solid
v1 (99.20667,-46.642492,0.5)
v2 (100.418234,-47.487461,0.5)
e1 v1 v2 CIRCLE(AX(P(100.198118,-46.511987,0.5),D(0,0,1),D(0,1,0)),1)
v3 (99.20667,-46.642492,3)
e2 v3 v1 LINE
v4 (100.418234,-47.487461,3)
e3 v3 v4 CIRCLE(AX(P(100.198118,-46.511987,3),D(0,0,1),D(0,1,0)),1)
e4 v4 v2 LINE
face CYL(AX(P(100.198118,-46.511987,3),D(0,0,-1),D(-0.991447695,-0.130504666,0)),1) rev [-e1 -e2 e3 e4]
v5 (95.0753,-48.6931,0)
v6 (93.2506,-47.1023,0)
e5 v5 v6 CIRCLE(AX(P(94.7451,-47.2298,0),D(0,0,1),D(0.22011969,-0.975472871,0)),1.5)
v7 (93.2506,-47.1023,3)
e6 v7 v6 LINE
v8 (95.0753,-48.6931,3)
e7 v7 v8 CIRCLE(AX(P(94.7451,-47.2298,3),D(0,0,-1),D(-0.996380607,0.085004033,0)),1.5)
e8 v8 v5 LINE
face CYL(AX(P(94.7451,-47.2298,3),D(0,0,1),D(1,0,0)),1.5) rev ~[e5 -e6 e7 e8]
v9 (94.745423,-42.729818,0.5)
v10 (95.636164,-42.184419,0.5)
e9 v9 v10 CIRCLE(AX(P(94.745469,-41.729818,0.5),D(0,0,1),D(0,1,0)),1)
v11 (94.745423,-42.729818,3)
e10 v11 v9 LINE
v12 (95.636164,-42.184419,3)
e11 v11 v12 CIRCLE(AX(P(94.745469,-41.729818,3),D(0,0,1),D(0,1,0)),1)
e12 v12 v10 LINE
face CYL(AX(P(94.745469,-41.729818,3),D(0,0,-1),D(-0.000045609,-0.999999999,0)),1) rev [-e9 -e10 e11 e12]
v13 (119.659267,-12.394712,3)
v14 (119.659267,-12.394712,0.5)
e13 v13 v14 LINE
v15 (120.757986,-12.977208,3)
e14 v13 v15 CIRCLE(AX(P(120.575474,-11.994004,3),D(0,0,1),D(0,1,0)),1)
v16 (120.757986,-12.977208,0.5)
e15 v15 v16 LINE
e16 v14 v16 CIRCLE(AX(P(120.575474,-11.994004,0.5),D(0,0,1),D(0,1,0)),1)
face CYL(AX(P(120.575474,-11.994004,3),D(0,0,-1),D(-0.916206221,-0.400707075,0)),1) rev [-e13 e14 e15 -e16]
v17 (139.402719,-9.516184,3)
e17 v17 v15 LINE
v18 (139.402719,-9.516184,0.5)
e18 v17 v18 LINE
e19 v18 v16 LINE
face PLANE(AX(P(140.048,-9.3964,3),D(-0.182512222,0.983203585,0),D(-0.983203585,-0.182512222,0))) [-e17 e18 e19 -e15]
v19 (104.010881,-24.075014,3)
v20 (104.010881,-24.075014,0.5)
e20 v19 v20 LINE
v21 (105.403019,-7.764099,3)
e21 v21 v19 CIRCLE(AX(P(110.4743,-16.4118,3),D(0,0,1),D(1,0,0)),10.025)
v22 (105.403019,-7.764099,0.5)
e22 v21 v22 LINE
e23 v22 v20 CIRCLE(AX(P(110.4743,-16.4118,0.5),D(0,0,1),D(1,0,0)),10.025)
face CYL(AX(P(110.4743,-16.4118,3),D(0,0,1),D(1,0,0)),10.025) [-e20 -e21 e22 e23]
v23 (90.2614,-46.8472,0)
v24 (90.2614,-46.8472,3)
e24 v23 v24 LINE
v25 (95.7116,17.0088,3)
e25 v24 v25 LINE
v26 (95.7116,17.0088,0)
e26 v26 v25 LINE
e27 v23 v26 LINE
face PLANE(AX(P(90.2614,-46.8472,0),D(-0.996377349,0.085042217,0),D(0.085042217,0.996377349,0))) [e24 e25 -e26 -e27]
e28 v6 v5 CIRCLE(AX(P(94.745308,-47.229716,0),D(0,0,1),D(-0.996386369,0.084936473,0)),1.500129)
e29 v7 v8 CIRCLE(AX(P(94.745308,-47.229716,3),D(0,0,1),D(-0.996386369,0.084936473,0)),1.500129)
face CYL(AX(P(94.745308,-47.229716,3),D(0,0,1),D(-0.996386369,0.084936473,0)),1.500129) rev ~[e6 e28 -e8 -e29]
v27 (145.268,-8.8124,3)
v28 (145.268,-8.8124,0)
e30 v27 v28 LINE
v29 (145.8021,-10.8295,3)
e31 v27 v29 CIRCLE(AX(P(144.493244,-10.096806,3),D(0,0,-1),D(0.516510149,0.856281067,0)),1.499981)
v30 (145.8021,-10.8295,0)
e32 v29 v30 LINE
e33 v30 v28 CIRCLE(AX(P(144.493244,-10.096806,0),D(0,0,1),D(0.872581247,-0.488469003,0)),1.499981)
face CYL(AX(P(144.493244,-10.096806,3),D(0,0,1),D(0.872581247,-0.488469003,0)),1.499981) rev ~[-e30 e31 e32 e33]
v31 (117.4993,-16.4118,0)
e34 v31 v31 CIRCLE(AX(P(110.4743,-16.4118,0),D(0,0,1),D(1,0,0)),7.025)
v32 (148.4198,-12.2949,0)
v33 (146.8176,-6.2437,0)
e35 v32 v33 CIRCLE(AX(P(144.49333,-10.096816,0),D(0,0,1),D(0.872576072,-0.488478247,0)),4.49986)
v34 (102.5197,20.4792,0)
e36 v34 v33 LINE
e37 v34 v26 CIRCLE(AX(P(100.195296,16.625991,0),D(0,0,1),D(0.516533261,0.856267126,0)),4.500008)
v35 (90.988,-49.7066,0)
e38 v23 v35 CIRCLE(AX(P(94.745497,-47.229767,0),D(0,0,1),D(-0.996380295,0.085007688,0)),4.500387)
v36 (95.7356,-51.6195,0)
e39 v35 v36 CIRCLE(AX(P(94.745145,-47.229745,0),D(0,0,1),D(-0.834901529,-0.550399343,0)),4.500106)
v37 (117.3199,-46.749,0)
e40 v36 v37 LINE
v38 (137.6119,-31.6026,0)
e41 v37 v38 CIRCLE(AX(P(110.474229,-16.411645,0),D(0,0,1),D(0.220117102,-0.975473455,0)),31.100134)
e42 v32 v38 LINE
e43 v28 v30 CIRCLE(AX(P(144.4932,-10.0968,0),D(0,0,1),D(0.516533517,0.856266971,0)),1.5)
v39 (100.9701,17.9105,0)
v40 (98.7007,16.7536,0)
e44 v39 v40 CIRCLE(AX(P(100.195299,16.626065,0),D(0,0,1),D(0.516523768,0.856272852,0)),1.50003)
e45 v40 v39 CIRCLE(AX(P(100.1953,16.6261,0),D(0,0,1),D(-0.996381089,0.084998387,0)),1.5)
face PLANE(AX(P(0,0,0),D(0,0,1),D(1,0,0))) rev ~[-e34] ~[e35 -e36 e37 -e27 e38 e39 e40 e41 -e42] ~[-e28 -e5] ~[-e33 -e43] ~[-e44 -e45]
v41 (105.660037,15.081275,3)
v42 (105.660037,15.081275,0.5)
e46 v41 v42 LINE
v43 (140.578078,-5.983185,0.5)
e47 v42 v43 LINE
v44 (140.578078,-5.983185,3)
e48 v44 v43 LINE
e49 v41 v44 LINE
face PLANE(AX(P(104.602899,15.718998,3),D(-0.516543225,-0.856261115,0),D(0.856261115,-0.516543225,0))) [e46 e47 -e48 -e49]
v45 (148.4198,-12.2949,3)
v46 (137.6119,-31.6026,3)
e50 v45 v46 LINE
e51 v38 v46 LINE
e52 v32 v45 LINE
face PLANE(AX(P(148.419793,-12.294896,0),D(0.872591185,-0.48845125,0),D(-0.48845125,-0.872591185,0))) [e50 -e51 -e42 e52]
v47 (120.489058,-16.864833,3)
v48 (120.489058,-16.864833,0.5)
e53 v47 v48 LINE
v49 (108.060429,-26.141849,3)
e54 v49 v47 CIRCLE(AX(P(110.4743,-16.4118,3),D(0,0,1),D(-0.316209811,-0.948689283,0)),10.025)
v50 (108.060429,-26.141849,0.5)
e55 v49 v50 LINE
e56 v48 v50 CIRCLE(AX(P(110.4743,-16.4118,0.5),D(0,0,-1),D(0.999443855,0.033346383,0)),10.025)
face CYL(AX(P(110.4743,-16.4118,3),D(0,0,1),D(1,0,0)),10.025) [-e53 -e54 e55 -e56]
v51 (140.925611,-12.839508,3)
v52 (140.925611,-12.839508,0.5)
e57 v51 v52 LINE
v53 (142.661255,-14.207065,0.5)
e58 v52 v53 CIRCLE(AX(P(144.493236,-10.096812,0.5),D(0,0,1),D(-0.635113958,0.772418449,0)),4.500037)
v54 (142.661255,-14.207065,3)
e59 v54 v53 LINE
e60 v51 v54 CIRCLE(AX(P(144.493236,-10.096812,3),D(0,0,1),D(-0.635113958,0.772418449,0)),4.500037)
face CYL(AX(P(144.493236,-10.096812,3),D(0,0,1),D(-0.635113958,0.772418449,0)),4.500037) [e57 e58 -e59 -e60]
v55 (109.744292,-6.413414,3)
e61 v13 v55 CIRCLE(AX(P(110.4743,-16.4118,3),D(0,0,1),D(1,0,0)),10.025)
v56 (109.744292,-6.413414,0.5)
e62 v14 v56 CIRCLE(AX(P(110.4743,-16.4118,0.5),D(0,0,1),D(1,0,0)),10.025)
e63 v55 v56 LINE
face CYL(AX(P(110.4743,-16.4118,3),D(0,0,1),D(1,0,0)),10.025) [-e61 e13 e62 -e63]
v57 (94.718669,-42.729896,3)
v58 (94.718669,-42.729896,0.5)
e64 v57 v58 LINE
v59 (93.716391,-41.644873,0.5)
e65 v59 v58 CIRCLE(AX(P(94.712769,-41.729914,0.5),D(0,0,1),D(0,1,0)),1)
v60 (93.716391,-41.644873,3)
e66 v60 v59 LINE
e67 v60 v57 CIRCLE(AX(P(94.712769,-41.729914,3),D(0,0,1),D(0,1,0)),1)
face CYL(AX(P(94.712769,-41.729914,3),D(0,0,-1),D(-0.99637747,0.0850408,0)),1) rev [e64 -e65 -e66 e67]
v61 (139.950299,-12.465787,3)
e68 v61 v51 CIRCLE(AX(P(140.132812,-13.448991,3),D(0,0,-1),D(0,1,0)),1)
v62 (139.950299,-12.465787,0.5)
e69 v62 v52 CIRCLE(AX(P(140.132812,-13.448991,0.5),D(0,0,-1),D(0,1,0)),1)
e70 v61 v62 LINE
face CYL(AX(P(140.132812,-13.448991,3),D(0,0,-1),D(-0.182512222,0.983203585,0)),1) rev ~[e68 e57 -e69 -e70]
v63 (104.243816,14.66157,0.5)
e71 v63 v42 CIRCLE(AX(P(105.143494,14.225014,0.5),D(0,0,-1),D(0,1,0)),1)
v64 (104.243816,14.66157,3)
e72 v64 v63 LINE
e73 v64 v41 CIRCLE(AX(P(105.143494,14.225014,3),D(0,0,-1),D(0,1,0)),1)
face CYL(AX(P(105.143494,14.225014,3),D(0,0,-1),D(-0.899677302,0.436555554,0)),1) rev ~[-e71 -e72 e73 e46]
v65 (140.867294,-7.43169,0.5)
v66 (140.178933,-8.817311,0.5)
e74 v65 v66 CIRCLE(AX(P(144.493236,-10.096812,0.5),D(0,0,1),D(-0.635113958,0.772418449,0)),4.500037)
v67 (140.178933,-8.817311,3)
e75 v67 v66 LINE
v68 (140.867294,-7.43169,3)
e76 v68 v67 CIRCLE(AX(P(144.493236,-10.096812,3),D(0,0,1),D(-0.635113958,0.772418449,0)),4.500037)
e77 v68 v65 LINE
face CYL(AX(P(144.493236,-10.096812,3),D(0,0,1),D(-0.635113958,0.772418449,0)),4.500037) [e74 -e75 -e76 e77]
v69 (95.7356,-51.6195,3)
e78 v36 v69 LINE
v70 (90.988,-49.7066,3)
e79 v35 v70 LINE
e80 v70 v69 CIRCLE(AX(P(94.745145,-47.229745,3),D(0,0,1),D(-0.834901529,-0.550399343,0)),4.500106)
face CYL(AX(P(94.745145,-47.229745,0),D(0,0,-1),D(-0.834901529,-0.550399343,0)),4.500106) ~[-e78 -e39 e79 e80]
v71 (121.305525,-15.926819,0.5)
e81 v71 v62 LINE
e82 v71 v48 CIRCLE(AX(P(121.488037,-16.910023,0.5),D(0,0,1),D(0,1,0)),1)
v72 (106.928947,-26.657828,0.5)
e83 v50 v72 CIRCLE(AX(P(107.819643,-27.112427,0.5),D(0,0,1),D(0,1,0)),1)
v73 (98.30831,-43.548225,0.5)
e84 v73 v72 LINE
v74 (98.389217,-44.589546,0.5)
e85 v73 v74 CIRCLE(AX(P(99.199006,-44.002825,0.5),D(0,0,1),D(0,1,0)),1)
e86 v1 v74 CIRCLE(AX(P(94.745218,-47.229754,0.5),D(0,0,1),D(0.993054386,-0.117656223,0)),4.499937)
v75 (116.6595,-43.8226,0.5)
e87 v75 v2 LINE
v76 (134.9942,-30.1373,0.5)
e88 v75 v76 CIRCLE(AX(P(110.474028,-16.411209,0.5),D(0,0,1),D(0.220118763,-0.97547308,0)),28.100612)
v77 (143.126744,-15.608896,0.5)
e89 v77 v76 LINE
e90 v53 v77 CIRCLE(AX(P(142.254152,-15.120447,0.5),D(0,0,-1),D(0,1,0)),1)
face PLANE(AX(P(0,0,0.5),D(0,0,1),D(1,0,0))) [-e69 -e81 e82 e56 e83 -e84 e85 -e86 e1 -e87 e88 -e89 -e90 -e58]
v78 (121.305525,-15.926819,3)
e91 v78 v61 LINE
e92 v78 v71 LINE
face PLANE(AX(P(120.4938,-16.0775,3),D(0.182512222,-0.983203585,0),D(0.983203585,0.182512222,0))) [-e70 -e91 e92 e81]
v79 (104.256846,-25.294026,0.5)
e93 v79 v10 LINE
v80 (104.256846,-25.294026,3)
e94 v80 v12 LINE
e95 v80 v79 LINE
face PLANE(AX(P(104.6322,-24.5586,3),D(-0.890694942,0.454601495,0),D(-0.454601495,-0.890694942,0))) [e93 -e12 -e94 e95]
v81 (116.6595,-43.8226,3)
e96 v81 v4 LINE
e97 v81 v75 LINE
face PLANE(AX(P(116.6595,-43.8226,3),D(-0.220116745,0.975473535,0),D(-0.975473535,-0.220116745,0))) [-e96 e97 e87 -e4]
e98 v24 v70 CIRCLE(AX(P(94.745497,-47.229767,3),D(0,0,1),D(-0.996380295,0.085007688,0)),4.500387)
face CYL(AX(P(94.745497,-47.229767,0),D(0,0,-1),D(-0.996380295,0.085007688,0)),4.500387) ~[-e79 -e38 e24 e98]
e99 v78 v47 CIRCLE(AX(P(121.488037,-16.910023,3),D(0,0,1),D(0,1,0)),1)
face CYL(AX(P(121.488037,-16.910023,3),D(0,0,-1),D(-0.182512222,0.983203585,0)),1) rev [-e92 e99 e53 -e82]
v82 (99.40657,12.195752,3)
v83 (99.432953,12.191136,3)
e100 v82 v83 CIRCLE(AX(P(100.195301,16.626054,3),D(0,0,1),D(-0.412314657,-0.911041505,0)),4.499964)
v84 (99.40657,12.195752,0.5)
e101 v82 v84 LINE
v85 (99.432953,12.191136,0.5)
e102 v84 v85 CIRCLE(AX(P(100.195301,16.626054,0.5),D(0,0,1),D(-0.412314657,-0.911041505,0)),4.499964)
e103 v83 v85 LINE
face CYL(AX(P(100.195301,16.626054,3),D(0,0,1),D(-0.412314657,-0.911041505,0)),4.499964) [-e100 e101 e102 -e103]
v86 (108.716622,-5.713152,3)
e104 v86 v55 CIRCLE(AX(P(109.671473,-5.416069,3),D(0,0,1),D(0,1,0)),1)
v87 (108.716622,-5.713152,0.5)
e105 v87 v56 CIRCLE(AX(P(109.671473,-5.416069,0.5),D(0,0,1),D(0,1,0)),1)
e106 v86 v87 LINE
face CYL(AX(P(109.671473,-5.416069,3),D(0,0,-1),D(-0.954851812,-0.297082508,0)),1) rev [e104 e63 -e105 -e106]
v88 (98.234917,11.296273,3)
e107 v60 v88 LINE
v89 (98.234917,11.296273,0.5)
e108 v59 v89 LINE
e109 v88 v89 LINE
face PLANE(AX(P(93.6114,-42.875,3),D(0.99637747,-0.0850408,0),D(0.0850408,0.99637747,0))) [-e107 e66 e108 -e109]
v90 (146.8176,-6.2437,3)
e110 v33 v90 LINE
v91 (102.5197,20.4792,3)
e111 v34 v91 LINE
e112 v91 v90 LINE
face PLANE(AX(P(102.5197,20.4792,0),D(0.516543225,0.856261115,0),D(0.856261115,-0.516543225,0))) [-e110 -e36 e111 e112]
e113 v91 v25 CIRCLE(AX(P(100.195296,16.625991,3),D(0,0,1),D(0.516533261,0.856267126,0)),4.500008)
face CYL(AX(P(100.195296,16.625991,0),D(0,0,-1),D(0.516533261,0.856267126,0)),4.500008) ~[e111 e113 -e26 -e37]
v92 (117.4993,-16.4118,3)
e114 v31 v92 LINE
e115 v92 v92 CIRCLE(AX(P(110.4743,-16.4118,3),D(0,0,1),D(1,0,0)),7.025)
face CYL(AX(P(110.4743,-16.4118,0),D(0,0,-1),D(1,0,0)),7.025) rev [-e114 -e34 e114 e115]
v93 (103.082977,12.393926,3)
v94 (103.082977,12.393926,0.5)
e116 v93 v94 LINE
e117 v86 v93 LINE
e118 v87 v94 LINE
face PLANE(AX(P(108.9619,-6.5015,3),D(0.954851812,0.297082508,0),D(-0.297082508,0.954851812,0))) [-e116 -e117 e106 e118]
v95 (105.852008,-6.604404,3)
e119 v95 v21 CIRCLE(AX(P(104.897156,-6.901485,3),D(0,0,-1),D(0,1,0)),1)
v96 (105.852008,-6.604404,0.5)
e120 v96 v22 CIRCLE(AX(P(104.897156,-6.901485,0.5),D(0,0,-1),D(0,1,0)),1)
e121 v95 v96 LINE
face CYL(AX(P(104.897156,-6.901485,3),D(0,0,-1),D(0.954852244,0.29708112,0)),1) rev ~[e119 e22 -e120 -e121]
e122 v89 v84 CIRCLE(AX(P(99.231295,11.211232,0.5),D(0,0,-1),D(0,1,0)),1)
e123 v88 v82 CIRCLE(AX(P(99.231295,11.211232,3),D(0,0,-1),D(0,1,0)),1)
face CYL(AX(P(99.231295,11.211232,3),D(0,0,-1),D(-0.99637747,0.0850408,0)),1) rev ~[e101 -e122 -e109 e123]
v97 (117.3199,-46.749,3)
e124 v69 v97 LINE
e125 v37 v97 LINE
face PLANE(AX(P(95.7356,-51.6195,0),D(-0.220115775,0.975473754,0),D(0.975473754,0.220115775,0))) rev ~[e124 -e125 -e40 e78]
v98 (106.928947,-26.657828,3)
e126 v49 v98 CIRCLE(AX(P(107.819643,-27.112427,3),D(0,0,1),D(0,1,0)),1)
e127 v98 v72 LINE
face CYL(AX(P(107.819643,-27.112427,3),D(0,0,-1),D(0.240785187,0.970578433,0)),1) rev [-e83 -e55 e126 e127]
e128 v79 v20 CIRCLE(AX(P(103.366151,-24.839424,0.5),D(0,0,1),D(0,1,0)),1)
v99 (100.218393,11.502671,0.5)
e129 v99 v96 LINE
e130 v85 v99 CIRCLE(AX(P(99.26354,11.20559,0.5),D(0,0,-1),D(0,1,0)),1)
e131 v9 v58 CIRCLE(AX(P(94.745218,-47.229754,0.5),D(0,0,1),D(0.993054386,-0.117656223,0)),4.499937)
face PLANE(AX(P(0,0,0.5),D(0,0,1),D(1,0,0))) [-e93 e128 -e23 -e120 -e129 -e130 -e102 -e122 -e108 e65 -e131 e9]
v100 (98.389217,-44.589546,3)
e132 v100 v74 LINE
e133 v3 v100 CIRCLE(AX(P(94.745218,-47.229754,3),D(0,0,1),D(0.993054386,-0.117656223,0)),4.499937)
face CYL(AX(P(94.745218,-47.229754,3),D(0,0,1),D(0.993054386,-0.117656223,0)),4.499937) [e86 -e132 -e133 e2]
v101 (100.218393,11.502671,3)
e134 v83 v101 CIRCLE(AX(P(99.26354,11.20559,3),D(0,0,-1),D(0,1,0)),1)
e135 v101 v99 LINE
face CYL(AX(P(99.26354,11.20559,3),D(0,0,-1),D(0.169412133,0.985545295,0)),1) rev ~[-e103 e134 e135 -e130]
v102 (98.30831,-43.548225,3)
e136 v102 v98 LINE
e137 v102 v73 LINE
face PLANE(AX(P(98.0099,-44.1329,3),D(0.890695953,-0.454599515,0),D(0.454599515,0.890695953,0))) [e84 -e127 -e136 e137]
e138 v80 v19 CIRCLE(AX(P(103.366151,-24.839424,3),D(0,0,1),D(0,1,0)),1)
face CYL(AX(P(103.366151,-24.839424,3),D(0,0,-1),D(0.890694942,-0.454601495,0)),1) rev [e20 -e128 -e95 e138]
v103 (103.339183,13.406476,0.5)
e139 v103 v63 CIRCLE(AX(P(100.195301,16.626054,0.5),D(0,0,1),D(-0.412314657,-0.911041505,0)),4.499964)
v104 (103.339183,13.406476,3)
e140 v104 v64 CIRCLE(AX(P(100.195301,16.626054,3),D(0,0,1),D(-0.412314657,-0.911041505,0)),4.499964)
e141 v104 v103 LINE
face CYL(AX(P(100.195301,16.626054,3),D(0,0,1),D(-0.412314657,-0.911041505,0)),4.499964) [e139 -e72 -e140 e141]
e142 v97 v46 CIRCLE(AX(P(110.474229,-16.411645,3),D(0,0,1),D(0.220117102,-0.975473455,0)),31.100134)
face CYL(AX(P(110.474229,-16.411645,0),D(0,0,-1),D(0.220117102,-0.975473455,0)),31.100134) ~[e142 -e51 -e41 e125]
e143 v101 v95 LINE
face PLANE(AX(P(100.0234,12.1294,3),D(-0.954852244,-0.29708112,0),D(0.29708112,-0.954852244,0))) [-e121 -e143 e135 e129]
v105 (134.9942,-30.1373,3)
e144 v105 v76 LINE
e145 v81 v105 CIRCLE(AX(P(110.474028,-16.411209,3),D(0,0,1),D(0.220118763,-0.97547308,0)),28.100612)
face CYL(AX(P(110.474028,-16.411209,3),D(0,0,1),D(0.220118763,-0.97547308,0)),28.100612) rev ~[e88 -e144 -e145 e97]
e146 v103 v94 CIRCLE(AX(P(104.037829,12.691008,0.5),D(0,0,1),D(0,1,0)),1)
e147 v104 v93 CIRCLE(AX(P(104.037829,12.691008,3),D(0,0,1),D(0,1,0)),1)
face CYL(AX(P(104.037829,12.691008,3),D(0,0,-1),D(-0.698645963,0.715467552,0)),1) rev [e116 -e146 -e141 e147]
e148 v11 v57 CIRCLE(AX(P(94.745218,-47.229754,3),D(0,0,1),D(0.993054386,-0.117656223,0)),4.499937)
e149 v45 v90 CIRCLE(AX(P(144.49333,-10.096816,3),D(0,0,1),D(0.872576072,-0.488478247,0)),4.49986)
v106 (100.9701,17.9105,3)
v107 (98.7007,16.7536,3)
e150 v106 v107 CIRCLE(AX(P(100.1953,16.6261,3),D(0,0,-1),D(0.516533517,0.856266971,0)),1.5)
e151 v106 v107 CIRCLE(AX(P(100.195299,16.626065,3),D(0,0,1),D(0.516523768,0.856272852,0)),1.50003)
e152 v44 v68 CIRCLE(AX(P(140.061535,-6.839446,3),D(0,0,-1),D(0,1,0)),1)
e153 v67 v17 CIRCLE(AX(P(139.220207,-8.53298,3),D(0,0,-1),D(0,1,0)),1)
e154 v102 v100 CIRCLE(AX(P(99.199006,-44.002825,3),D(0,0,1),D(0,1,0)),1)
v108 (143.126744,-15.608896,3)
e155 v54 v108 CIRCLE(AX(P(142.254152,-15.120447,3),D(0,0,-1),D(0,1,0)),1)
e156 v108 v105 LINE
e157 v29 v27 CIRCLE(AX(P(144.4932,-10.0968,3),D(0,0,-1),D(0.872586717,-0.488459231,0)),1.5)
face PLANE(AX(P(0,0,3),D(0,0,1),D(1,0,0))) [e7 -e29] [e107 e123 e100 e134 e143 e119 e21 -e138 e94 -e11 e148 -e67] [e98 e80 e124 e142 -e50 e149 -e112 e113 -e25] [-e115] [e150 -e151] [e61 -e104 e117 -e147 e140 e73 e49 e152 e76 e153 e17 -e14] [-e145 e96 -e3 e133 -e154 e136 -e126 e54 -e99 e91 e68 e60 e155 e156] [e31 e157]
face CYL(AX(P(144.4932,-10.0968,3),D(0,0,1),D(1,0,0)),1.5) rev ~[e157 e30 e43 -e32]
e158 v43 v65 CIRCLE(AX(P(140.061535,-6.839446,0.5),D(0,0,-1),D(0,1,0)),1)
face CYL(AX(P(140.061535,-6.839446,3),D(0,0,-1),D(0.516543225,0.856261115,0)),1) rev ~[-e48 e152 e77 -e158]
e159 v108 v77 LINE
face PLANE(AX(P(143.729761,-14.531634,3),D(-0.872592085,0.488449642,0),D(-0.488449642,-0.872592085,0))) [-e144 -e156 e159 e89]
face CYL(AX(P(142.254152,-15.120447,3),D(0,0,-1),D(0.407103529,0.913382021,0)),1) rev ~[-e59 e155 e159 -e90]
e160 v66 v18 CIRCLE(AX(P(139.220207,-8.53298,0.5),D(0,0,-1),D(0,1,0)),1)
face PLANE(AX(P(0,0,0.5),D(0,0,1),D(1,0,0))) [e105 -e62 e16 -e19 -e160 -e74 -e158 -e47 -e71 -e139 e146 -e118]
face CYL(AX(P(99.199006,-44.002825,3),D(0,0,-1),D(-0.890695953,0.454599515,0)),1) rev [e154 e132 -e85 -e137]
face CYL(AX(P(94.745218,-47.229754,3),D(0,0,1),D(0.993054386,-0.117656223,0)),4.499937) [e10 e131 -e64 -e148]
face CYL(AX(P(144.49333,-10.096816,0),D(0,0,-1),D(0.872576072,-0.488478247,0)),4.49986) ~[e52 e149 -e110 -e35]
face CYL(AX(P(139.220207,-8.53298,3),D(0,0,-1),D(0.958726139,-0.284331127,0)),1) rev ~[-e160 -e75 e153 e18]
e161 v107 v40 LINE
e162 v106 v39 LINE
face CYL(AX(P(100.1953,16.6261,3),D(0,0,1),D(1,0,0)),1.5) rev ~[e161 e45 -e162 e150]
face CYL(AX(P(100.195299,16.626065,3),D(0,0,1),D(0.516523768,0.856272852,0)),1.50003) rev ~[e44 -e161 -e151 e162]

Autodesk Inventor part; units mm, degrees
ref_plane "YZ Plane" through (0, 0, 0) normal (1, 0, 0) x (0, 1, 0)
ref_plane "XZ Plane" through (0, 0, 0) normal (0, 1, 0) x (-1, 0, 0)
ref_plane "XY Plane" through (0, 0, 0) normal (0, 0, 1) x (1, 0, 0)
sketch "スケッチ1" plane through (0, 0, 0) normal (0, 0, 1) x (1, 0, 0)
  circle A0 centre (110.4743, -16.4118) radius 30.1 construction
  circle A1 centre (150.4743, 0.5882) radius 1.5
  circle A2 centre (127.6431, 30.2622) radius 1.5
  circle A3 centre (80.4743, 23.124) radius 1.5
  circle A4 centre (70.4743, -10.4118) radius 1.5
  circle A5 centre (110.4743, -16.4118) radius 7.025
  arc A6 (79.801, 27.5733) -> (76.162, 24.4099) centre (80.4743, 23.124) ccw
  arc A7 (131.2097, 33.0062) -> (126.9698, 34.7115) centre (127.6431, 30.2622) ccw
  arc A8 (154.401, -1.6098) -> (154.0408, 3.3323) centre (150.4743, 0.5882) ccw
  arc A9 (66.162, -9.1259) -> (66.7172, -12.8885) centre (70.4743, -10.4118) ccw
  arc A10 (117.3199, -46.749) -> (137.6119, -31.6026) centre (110.4743, -16.4118) ccw
  line L0 (154.401, -1.6098) -> (137.6119, -31.6026)
  line L1 (66.162, -9.1259) -> (76.162, 24.4099)
  line L2 (79.801, 27.5733) -> (126.9698, 34.7115)
  line L3 (131.2097, 33.0062) -> (154.0408, 3.3323)
  line L4 (96.5433, 16.3458) -> (118.2214, -10.0492) construction
  line L5 (117.0311, -23.9953) -> (91.1935, -46.3348) construction
  circle A11 centre (100.1953, 16.6261) radius 3 construction
  circle A12 centre (144.4932, -10.0968) radius 3 construction
  circle A13 centre (100.1953, 16.6261) radius 4.5 construction
  circle A14 centre (144.4932, -10.0968) radius 4.5 construction
  arc A15 (90.988, -49.7066) -> (95.7356, -51.6195) centre (94.7451, -47.2298) ccw
  circle A16 centre (94.7451, -47.2298) radius 3 construction
  line L6 (95.7356, -51.6195) -> (117.3199, -46.749)
  line L7 (66.7172, -12.8885) -> (90.988, -49.7066)
  circle A17 centre (100.1953, 16.6261) radius 1.25
  circle A18 centre (144.4932, -10.0968) radius 1.25
  circle A19 centre (94.7451, -47.2298) radius 1.25
  point P0 (0, 0)
  point P1 (0, 0)
  point P2 (0, 0)
  dimension "d0" = 14.05
  dimension "d1" = 9
  dimension "d2" = 9
  dimension "d3" = 9
  dimension "d4" = 9
  dimension "d5" = 1
  dimension "d6" = 6
  dimension "d7" = 6
  dimension "d8" = 9
  dimension "d9" = 9
  dimension "d10" = 9
  dimension "d11" = 6
  dimension "d12" = 2.5
  dimension "d13" = 2.5
  dimension "d14" = 2.5
sketch "スケッチ2" plane through (0, 0, 0) normal (0, 0, 1) x (1, 0, 0)
  circle A0 centre (100.1953, 16.6261) radius 1.25 projected
  circle A1 centre (144.4932, -10.0968) radius 1.25 projected
  circle A2 centre (94.7451, -47.2298) radius 1.25 projected
  line L0 (95.7356, -51.6195) -> (117.3199, -46.749) projected
  arc A3 (117.3199, -46.749) -> (137.6119, -31.6026) centre (110.4743, -16.4118) ccw projected
  line L1 (154.401, -1.6098) -> (137.6119, -31.6026) projected
  arc A4 (90.988, -49.7066) -> (95.7356, -51.6195) centre (94.7451, -47.2298) ccw projected
  arc A5 (102.5197, 20.4792) -> (95.7116, 17.0088) centre (100.1953, 16.6261) ccw
  arc A6 (148.4198, -12.2949) -> (146.8176, -6.2437) centre (144.4932, -10.0968) ccw
  line L2 (148.4198, -12.2949) -> (137.6119, -31.6026)
  arc A7 (90.2614, -46.8472) -> (90.988, -49.7066) centre (94.7451, -47.2298) ccw
  line L3 (90.2614, -46.8472) -> (95.7116, 17.0088)
  line L4 (102.5197, 20.4792) -> (146.8176, -6.2437)
  circle A8 centre (110.4743, -16.4118) radius 7.025 projected
  point P0 (0, 0)
  dimension "d15" = 9
  dimension "d16" = 9
extrude "押し出し1" add sketch "スケッチ2" along normal blind 3
sketch "スケッチ3" plane through (0, 0, 3) normal (0, 0, 1) x (1, 0, 0)
  circle A0 centre (110.4743, -16.4118) radius 7.025 projected
  circle A1 centre (94.7451, -47.2298) radius 1.25 projected
  circle A2 centre (144.4932, -10.0968) radius 1.25 projected
  circle A3 centre (100.1953, 16.6261) radius 1.25 projected
  line L0 (95.7356, -51.6195) -> (117.3199, -46.749) projected
  arc A4 (117.3199, -46.749) -> (137.6119, -31.6026) centre (110.4743, -16.4118) ccw projected
  line L1 (137.6119, -31.6026) -> (148.4198, -12.2949) projected
  arc A5 (148.4198, -12.2949) -> (146.8176, -6.2437) centre (144.4932, -10.0968) ccw projected
  line L2 (146.8176, -6.2437) -> (102.5197, 20.4792) projected
  arc A6 (102.5197, 20.4792) -> (95.7116, 17.0088) centre (100.1953, 16.6261) ccw projected
  line L3 (95.7116, 17.0088) -> (90.2614, -46.8472) projected
  arc A7 (90.2614, -46.8472) -> (95.7356, -51.6195) centre (94.7451, -47.2298) ccw projected
  line L4 (100.9701, 17.9105) -> (145.268, -8.8124)
  arc A8 (145.8021, -10.8295) -> (145.268, -8.8124) centre (144.4932, -10.0968) ccw
  line L5 (145.8021, -10.8295) -> (134.9942, -30.1373)
  arc A9 (116.6595, -43.8226) -> (134.9942, -30.1373) centre (110.4743, -16.4118) ccw
  line L6 (116.6595, -43.8226) -> (95.0753, -48.6931)
  arc A10 (93.2506, -47.1023) -> (95.0753, -48.6931) centre (94.7451, -47.2298) ccw
  line L7 (93.2506, -47.1023) -> (98.7007, 16.7536)
  arc A11 (100.9701, 17.9105) -> (98.7007, 16.7536) centre (100.1953, 16.6261) ccw
  circle A12 centre (110.4743, -16.4118) radius 10.025
  arc A13 (98.3399, 12.5264) -> (104.6029, 15.719) centre (100.1953, 16.6261) ccw
  circle A14 centre (144.4932, -10.0968) radius 1.25 projected
  arc A15 (141.6352, -6.6209) -> (143.7297, -14.5316) centre (144.4932, -10.0968) ccw
  arc A16 (99.2139, -47.7592) -> (93.6114, -42.875) centre (94.7451, -47.2298) ccw
  circle A17 centre (94.7451, -47.2298) radius 1.5
  circle A18 centre (144.4932, -10.0968) radius 1.5
  circle A19 centre (100.1953, 16.6261) radius 1.5
  line L8 (110.4743, -16.4118) -> (144.4932, -10.0968) construction
  arc A20 (110.2006, -14.937) -> (110.7481, -17.8866) centre (110.4743, -16.4118) ccw
  arc A21 (144.7669, -11.5716) -> (144.2194, -8.622) centre (144.4932, -10.0968) ccw
  line L9 (100.1953, 16.6261) -> (110.4743, -16.4118) construction
  arc A22 (101.6276, 17.0717) -> (98.763, 16.1804) centre (100.1953, 16.6261) ccw
  arc A23 (109.0421, -16.8574) -> (111.9066, -15.9662) centre (110.4743, -16.4118) ccw
  line L10 (110.4743, -16.4118) -> (94.7451, -47.2298) construction
  arc A24 (111.8104, -17.0937) -> (109.1383, -15.7299) centre (110.4743, -16.4118) ccw
  arc A25 (93.4091, -46.5479) -> (96.0812, -47.9118) centre (94.7451, -47.2298) ccw
  line L11 (110.7481, -17.8866) -> (117.4958, -16.634)
  line L12 (120.4938, -16.0775) -> (140.5956, -12.346)
  line L13 (140.048, -9.3964) -> (119.9462, -13.1279)
  line L14 (116.9483, -13.6844) -> (110.2006, -14.937)
  line L15 (111.9066, -15.9662) -> (109.8677, -9.413)
  line L16 (108.9619, -6.5015) -> (102.888, 13.0206)
  line L17 (100.0234, 12.1294) -> (106.0973, -7.3928)
  line L18 (107.0032, -10.3043) -> (109.0421, -16.8574)
  line L19 (109.1383, -15.7299) -> (108.8606, -16.2741)
  line L20 (104.6322, -24.5586) -> (95.3378, -42.769)
  line L21 (98.0099, -44.1329) -> (107.3043, -25.9224)
  line L22 (108.6904, -23.2065) -> (111.8104, -17.0937)
  point P0 (0, 0)
  point P1 (127.4837, -13.2543)
  point P2 (105.3348, 0.1071)
  point P3 (102.6097, -31.8208)
  dimension "d20" = 3
  dimension "d21" = 3
  dimension "d22" = 3
  dimension "d23" = 3
  dimension "d24" = 3
  dimension "d25" = 3
  dimension "d26" = 3
  dimension "d27" = 3
  dimension "d28" = 3
  dimension "d29" = 3
  dimension "d30" = 3
extrude "押し出し2" cut sketch "スケッチ3" against normal blind 2.5 contours L4 A15 L13 A12 L16 A13 | A13 L17 A12 L20 A16 L7 | A15 L5 A9 L6 A16 L21 A12 L12
extrude "押し出し3" cut sketch "スケッチ3" against normal blind 3 contours A19 A11 | A8 A18 | A17 A10
fillet "フィレット1" radius 1 18 edges at (104.6029, 15.719, 1.75) (102.888, 13.0206, 1.75) (100.0234, 12.1294, 1.75) (98.3399, 12.5264, 1.75) (106.0973, -7.3928, 1.75) (108.9619, -6.5015, 1.75) (119.9462, -13.1279, 1.75) (120.4938, -16.0775, 1.75) (107.3043, -25.9224, 1.75) (104.6322, -24.5586, 1.75) (95.3378, -42.769, 1.75) (93.6114, -42.875, 1.75) (98.0099, -44.1329, 1.75) (99.2139, -47.7592, 1.75) (143.7297, -14.5316, 1.75) (140.5956, -12.346, 1.75) (140.048, -9.3964, 1.75) (141.6352, -6.6209, 1.75)
properties part number "前足ギアトレイン抑え" material "ポリカーボネート、クリア"
